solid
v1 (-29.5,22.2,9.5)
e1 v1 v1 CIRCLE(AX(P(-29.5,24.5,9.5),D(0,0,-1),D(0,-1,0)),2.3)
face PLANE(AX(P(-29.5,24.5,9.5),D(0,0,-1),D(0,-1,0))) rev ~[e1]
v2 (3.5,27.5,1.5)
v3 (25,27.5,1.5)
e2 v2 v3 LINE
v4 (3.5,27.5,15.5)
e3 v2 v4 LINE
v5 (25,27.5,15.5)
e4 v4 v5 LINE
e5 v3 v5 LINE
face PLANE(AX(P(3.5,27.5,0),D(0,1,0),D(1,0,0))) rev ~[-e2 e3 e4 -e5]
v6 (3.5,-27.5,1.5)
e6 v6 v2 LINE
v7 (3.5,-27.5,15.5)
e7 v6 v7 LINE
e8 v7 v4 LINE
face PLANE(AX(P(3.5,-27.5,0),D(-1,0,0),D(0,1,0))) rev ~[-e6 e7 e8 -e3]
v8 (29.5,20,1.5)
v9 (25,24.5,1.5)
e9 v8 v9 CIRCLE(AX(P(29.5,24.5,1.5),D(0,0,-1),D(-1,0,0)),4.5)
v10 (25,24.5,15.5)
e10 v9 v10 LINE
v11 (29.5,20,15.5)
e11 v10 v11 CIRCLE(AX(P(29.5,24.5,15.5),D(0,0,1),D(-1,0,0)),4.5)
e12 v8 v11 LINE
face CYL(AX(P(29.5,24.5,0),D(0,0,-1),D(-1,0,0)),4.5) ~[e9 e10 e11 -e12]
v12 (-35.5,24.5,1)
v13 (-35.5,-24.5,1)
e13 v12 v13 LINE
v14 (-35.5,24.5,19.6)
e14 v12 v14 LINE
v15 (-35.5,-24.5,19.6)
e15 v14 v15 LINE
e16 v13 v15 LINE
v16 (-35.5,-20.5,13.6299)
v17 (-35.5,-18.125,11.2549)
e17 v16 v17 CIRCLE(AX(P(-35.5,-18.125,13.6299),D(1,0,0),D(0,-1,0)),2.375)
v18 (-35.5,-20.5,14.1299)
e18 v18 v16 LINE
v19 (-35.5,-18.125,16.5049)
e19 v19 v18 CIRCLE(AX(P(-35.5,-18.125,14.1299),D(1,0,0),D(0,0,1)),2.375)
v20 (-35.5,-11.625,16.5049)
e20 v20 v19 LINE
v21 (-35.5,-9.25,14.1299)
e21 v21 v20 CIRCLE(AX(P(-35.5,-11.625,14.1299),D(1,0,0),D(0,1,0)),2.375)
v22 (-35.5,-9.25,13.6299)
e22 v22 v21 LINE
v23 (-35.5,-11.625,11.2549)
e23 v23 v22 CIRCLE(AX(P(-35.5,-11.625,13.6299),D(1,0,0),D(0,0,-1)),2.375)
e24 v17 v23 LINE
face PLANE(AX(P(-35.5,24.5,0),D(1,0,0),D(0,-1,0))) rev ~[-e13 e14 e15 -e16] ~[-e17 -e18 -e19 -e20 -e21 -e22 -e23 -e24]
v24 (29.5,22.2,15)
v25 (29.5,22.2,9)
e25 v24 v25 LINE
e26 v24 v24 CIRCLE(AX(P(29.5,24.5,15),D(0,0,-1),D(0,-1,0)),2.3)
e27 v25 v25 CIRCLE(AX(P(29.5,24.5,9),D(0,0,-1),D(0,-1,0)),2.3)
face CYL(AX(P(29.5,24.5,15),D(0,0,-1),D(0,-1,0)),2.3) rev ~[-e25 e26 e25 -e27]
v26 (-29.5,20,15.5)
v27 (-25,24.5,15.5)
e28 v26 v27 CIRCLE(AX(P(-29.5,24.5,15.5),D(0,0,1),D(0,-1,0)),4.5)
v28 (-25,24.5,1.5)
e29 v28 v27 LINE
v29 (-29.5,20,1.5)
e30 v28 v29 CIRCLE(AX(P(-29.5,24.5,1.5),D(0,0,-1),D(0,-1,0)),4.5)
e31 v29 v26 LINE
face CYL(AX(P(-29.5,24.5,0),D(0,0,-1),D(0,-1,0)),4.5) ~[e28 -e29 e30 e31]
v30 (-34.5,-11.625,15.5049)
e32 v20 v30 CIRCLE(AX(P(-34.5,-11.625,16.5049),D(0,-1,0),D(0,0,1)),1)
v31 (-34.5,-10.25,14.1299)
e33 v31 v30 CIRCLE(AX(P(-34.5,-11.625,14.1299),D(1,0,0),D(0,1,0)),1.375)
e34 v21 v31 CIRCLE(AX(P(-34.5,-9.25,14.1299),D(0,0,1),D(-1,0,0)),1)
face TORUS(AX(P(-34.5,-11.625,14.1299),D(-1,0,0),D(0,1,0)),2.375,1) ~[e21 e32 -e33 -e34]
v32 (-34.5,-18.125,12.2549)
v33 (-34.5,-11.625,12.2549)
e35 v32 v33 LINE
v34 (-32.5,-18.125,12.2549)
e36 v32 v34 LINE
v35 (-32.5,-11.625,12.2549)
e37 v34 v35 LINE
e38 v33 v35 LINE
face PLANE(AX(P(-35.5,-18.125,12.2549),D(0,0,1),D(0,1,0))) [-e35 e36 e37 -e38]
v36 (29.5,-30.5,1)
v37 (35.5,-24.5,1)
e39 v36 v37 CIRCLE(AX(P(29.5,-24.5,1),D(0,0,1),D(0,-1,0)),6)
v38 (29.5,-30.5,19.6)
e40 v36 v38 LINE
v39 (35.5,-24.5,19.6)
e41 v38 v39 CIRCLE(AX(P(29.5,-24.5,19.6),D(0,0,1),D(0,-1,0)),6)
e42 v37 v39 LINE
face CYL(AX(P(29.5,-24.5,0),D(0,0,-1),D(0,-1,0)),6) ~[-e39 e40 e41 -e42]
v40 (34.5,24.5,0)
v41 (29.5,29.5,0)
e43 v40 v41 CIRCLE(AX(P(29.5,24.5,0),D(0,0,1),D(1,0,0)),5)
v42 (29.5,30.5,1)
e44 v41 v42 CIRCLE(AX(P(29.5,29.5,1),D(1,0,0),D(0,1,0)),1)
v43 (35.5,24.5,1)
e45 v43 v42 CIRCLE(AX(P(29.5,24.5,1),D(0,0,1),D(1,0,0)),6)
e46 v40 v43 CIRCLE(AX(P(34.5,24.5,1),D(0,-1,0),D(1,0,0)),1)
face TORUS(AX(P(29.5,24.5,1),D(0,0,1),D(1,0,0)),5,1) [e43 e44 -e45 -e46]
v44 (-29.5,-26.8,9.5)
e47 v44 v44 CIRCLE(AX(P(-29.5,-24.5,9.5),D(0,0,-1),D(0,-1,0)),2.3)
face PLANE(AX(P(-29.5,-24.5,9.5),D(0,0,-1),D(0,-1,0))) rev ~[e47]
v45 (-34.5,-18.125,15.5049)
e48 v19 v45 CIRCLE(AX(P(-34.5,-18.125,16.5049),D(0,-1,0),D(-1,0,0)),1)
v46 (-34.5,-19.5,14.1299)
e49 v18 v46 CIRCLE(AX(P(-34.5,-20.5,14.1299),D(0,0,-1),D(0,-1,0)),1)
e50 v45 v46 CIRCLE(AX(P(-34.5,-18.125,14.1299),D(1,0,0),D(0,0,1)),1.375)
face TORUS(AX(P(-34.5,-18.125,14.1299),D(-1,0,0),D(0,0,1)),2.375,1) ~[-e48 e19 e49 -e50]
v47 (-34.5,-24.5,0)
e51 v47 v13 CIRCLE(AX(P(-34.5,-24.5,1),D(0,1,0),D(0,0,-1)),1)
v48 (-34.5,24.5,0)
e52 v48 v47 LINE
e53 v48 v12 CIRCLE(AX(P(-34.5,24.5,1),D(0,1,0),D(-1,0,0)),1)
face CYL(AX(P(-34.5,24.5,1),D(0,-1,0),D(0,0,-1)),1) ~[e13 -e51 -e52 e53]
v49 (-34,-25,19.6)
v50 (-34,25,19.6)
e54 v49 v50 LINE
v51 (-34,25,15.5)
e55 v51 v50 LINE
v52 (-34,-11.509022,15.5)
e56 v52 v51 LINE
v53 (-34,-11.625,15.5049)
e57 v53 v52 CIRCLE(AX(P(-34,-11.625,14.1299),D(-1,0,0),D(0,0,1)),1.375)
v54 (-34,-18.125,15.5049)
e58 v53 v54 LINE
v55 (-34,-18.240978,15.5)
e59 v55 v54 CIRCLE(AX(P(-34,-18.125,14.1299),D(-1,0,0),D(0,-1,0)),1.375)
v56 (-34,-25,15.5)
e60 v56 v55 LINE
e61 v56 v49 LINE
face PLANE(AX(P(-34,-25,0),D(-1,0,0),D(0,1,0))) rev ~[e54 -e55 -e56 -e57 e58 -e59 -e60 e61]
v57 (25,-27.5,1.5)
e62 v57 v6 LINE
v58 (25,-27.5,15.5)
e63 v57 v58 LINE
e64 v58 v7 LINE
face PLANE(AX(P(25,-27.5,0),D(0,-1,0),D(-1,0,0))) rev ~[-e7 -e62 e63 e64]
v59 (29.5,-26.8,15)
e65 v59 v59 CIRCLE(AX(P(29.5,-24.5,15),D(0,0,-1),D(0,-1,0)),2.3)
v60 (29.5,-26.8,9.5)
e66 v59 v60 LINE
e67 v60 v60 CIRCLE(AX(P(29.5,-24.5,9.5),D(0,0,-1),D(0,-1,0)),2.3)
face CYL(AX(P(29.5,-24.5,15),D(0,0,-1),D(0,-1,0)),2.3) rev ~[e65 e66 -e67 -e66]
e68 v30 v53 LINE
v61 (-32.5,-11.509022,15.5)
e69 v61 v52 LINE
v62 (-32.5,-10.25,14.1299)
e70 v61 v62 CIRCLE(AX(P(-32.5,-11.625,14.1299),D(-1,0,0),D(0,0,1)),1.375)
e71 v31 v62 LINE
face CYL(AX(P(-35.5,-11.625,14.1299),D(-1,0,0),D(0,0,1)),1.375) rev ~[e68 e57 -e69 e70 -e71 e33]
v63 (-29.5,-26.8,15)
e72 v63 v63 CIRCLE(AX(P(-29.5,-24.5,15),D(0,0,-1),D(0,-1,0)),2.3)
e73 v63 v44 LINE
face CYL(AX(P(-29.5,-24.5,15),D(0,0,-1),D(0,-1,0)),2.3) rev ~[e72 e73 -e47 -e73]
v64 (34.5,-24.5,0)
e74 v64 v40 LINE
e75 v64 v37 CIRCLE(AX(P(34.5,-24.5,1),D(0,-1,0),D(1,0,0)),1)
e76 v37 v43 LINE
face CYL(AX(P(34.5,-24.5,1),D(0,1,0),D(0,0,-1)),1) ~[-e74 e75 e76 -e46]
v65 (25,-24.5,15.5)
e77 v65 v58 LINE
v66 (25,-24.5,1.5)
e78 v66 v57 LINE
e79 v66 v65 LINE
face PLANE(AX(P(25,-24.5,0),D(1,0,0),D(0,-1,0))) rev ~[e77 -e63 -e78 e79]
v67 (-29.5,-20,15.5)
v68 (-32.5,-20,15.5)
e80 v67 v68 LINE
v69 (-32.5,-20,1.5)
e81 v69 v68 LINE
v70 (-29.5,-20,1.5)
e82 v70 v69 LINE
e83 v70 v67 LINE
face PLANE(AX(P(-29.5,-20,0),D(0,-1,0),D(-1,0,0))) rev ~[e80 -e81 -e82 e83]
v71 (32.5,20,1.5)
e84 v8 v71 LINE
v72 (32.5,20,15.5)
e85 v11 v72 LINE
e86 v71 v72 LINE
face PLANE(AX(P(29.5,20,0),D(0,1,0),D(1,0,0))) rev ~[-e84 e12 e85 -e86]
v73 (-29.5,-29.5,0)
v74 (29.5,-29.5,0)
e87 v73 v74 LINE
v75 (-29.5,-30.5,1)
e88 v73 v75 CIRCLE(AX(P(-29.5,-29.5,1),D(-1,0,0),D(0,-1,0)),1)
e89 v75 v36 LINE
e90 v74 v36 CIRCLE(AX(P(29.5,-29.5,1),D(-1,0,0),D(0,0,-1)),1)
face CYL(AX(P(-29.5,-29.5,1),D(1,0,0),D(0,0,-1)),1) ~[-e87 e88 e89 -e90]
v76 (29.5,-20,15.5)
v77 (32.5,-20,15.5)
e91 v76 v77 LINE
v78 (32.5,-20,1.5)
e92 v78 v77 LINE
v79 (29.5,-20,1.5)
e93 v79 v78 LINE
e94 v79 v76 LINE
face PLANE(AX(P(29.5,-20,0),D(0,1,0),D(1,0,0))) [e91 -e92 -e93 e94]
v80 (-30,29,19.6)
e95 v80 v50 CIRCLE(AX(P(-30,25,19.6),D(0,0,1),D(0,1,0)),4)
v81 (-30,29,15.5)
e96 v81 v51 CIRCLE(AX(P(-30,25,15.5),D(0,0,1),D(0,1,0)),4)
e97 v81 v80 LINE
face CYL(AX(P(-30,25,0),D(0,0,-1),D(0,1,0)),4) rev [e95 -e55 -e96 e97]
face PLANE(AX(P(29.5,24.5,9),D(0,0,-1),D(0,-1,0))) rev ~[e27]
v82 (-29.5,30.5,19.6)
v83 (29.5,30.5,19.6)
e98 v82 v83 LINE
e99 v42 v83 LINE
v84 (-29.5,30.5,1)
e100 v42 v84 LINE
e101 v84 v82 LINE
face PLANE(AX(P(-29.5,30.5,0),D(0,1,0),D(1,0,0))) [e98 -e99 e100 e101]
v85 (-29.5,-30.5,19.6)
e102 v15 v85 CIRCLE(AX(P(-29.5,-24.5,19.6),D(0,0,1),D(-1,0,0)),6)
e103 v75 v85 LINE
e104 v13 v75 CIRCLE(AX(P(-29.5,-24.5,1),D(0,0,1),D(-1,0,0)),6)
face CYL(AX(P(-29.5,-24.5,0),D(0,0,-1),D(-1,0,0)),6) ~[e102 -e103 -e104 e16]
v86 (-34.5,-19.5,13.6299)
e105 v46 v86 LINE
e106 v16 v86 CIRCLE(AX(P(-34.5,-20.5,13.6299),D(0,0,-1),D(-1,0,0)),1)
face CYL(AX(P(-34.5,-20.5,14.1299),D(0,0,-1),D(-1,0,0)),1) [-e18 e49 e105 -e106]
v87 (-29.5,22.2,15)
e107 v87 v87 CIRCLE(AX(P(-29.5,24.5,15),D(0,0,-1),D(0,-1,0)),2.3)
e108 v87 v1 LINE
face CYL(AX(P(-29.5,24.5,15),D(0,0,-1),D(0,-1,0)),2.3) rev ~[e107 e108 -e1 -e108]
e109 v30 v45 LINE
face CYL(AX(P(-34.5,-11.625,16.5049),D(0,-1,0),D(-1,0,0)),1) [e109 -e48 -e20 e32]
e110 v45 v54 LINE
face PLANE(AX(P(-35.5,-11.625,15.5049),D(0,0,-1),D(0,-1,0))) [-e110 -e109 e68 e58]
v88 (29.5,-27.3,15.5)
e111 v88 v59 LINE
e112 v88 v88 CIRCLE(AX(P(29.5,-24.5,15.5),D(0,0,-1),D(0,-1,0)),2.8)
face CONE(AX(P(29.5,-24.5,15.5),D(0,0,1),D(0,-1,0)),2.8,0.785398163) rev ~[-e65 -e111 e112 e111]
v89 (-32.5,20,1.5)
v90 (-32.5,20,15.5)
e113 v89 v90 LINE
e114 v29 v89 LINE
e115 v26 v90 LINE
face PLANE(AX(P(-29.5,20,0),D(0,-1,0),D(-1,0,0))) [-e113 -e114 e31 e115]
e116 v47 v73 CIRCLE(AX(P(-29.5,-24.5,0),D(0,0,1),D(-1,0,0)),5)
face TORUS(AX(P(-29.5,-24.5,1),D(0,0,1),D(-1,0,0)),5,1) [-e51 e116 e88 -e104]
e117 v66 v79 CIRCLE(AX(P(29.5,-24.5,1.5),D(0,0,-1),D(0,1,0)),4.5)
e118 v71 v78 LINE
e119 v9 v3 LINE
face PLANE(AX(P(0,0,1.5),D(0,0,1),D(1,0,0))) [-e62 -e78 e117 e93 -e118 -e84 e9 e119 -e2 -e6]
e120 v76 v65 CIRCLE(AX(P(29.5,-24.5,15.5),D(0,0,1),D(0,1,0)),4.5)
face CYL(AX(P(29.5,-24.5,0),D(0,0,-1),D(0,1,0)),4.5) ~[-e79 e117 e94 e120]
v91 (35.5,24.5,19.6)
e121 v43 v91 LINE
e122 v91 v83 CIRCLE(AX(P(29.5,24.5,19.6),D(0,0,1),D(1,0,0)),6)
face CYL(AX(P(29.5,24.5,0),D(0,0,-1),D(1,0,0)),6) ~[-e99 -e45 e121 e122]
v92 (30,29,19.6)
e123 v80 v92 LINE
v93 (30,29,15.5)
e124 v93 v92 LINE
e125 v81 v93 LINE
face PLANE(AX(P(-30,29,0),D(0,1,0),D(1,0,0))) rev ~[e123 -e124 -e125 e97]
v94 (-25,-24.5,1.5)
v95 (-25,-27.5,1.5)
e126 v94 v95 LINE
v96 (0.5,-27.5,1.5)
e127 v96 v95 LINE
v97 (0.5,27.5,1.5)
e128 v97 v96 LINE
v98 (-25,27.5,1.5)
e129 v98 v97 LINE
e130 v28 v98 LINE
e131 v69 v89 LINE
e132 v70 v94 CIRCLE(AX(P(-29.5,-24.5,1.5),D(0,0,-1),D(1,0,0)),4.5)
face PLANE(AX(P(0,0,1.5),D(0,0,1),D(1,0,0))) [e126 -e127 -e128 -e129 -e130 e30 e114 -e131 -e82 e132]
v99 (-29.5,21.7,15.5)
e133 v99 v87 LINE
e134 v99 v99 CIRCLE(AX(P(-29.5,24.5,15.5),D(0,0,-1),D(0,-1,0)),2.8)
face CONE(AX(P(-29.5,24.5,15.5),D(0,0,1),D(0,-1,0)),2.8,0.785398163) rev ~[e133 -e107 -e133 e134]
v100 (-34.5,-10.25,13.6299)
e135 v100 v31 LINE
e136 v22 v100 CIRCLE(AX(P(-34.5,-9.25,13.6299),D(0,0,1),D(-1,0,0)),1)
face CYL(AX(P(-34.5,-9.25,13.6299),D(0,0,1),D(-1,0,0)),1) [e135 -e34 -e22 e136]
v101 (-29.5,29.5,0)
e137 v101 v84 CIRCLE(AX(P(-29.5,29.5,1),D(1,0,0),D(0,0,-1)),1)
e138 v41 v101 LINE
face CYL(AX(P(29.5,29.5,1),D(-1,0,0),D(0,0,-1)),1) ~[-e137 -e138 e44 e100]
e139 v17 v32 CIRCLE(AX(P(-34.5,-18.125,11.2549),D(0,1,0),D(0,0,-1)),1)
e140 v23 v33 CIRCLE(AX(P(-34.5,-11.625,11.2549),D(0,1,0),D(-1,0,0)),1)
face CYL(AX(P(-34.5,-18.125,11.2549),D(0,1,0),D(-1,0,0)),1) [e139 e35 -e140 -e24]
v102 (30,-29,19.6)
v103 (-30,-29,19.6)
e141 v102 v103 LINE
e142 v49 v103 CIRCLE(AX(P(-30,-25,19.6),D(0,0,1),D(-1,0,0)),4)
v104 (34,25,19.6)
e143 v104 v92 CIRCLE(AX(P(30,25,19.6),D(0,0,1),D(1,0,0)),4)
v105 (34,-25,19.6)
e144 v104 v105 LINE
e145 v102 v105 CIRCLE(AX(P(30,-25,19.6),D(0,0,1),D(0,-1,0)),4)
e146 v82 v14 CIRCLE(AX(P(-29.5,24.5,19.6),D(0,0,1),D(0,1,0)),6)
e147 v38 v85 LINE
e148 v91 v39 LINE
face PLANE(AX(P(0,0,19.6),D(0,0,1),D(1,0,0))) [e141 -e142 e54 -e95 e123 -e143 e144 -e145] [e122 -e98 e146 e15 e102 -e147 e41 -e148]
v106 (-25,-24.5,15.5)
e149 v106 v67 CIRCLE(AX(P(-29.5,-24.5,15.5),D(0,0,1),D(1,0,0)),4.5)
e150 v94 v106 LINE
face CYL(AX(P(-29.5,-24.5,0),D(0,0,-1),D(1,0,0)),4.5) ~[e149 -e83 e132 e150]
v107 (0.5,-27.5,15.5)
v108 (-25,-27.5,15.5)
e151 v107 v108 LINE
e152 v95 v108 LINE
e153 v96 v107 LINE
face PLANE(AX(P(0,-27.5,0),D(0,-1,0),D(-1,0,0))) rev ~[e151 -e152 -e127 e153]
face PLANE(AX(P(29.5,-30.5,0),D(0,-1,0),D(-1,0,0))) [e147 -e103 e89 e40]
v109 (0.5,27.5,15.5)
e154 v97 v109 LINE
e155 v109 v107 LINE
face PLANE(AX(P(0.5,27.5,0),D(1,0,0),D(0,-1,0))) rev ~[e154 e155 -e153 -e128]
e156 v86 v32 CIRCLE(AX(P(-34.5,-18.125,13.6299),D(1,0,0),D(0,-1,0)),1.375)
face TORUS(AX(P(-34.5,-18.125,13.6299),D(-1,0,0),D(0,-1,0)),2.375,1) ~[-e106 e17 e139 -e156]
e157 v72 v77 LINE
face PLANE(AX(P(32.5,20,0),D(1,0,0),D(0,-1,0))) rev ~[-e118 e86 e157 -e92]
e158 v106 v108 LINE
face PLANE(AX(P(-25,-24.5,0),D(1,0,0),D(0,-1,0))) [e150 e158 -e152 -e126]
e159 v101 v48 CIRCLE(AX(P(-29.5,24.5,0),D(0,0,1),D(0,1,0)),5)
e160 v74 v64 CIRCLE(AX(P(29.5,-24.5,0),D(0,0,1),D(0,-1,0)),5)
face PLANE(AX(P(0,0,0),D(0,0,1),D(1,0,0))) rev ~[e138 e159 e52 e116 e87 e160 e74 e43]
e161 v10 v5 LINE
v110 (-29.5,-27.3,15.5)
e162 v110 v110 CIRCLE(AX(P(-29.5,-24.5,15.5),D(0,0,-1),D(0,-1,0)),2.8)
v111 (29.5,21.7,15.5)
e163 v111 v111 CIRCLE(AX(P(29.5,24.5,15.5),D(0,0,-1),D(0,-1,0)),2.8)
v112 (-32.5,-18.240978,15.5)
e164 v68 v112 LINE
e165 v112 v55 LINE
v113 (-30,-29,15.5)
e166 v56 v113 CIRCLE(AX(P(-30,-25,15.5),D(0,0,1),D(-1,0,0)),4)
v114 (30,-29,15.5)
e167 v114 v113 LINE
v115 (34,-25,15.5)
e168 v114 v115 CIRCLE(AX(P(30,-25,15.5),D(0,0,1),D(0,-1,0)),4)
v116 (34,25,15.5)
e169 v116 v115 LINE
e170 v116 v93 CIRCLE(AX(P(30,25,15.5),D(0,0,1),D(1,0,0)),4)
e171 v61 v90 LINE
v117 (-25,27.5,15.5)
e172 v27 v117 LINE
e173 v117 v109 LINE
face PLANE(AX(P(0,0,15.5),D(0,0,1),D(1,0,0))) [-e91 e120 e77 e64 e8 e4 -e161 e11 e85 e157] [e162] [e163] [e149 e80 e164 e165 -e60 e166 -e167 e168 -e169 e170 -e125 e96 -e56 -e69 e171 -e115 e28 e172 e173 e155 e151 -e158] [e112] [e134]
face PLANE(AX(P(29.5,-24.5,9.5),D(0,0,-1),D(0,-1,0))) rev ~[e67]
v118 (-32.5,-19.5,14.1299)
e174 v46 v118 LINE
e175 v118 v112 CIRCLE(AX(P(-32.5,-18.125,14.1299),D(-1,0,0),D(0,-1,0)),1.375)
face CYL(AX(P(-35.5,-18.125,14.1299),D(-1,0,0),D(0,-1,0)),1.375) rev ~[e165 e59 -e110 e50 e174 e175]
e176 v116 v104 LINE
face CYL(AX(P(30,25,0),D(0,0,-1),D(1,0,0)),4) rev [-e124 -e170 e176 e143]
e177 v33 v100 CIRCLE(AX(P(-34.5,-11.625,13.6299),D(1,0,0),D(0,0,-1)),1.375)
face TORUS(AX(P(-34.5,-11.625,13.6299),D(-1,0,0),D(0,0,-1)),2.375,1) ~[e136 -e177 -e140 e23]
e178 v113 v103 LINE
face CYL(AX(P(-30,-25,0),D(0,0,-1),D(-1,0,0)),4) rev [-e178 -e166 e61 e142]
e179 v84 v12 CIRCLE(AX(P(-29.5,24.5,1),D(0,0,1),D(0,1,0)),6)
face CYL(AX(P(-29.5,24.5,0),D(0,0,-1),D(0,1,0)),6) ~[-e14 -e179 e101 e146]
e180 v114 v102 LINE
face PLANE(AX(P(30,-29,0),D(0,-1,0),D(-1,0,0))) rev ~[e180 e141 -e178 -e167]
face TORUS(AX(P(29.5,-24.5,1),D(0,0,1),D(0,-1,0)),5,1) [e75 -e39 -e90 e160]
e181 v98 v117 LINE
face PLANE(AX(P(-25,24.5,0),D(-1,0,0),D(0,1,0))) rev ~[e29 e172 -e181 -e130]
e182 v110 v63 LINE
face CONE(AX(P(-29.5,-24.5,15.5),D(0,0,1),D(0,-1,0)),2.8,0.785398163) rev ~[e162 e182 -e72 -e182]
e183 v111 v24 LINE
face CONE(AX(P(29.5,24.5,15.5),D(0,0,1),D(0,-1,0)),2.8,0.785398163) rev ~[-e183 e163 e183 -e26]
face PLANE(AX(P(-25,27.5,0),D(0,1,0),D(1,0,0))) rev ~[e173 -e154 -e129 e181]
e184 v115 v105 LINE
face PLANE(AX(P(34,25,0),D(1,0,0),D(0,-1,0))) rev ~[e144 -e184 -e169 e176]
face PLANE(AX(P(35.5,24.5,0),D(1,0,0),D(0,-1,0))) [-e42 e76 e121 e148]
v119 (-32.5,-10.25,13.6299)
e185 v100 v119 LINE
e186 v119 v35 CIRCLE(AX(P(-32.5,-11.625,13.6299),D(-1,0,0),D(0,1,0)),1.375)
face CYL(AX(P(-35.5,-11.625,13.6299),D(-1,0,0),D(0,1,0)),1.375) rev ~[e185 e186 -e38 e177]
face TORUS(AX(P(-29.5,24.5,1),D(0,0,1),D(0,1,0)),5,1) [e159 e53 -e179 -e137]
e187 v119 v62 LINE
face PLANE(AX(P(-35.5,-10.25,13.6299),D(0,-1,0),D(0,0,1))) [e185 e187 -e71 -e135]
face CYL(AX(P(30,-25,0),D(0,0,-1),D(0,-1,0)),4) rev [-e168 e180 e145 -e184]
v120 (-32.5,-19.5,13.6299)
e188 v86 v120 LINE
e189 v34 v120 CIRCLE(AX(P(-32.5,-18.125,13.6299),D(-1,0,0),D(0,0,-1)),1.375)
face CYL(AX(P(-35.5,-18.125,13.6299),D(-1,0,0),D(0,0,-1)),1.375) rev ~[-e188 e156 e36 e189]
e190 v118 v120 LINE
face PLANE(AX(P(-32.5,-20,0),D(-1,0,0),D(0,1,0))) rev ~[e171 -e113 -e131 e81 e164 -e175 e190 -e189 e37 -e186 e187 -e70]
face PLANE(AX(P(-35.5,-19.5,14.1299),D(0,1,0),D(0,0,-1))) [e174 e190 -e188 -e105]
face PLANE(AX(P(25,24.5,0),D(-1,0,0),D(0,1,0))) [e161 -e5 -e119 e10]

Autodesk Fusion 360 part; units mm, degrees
sketch "main-bottom" plane through (0, 0, 0) normal (0, 0, 1) x (1, 0, 0)
  line L0 (30, -29) -> (-30, -29)
  line L1 (-34, -25) -> (-34, 25)
  line L2 (-30, 29) -> (30, 29)
  line L3 (34, 25) -> (34, -25)
  arc A0 (-30, 29) -> (-34, 25) centre (-30, 25) ccw
  arc A1 (-34, -25) -> (-30, -29) centre (-30, -25) ccw
  arc A2 (30, -29) -> (34, -25) centre (30, -25) ccw
  arc A3 (34, 25) -> (30, 29) centre (30, 25) ccw
  circle A4 centre (-29.5, 24.5) radius 2.3
  circle A5 centre (29.5, 24.5) radius 2.3
  circle A6 centre (29.5, -24.5) radius 2.3
  circle A7 centre (-29.5, -24.5) radius 2.3
  line L4 (-32.5, -25) -> (-32.5, 25)
  line L5 (32.5, 25) -> (32.5, -25)
  arc A8 (-30, 27.5) -> (-32.5, 25) centre (-30, 25) ccw
  arc A9 (-32.5, -25) -> (-30, -27.5) centre (-30, -25) ccw
  arc A10 (30, -27.5) -> (32.5, -25) centre (30, -25) ccw
  arc A11 (32.5, 25) -> (30, 27.5) centre (30, 25) ccw
  arc A12 (-29.5, 20) -> (-25, 24.5) centre (-29.5, 24.5) ccw
  line L6 (-25, 24.5) -> (-25, 27.5)
  line L7 (-29.5, 20) -> (-32.5, 20)
  line L8 (-29.5, 20) -> (-32.5, 20)
  arc A13 (-29.5, 20) -> (-25, 24.5) centre (-29.5, 24.5) ccw
  line L9 (-25, 24.5) -> (-25, 27.5)
  arc A14 (-29.5, 20) -> (-25, 24.5) centre (-29.5, 24.5) ccw
  line L10 (-25, 24.5) -> (-25, 27.5)
  line L11 (-29.5, 20) -> (-32.5, 20)
  arc A15 (-25, -24.5) -> (-29.5, -20) centre (-29.5, -24.5) ccw
  line L12 (-29.5, -20) -> (-32.5, -20)
  line L13 (-25, -24.5) -> (-25, -27.5)
  arc A16 (29.5, -20) -> (25, -24.5) centre (29.5, -24.5) ccw
  line L14 (25, -24.5) -> (25, -27.5)
  line L15 (29.5, -20) -> (32.5, -20)
  arc A17 (25, 24.5) -> (29.5, 20) centre (29.5, 24.5) ccw
  line L16 (29.5, 20) -> (32.5, 20)
  line L17 (25, 24.5) -> (25, 27.5)
  line L18 (0, -27.5) -> (0.5, -27.5) construction
  line L19 (0, 27.5) -> (0.5, 27.5) construction
  line L20 (0, -27.5) -> (0.5, -27.5)
  line L21 (0, -27.5) -> (0.5, -27.5) construction
  line L22 (3.5, -27.5) -> (3.5, 27.5)
  line L23 (0.5, 27.5) -> (0.5, -27.5)
  line L24 (30, -27.5) -> (3.5, -27.5)
  line L25 (0.5, -27.5) -> (-30, -27.5)
  line L26 (-30, 27.5) -> (0.5, 27.5)
  line L27 (3.5, 27.5) -> (30, 27.5)
  arc A18 (-29.5, 30.5) -> (-35.5, 24.5) centre (-29.5, 24.5) ccw
  line L28 (-29.5, 24.5) -> (-35.5, 24.5) construction
  arc A19 (-29.5, 30.5) -> (-35.5, 24.5) centre (-29.5, 24.5) ccw
  arc A20 (35.5, 24.5) -> (29.5, 30.5) centre (29.5, 24.5) ccw
  arc A21 (-35.5, -24.5) -> (-29.5, -30.5) centre (-29.5, -24.5) ccw
  arc A22 (29.5, -30.5) -> (35.5, -24.5) centre (29.5, -24.5) ccw
  line L29 (-29.5, 30.5) -> (29.5, 30.5)
  line L30 (35.5, 24.5) -> (35.5, -24.5)
  line L31 (29.5, -30.5) -> (-29.5, -30.5)
  line L32 (-35.5, 24.5) -> (-35.5, -24.5)
  dimension "d32" = 4.6
  dimension "d33" = 4.6
  dimension "d34" = 4.6
  dimension "d35" = 4.6
  dimension "d39" = 4.5
  dimension "d40" = 4.5
  dimension "d41" = 4.5
  dimension "d42" = 4.5
  dimension "d43" = 4.5
  dimension "d44" = 4.5
extrude "Extrude4" add sketch "main-bottom" along normal blind 15.5 contours L0 L1 L2 L3 A0 A1 A2 A3 | A4 | A5 | A6 | A7 | L4 A9 A15 L12 L13 L25 | L4 A8 A12 L6 L7 L8 A13 L9 A14 L10 L11 L26 | L5 A11 A17 L16 L17 L27 | L5 A10 A16 L14 L15 L24 makes body 1
extrude "Extrude3" add sketch "main-bottom" along normal blind 1.5 separate body contours L0 L1 L2 L3 A0 A1 A2 A3 | A4 | A5 | A6 | A7 | L4 A9 A15 L12 L13 L25 | L4 A12 L6 L7 L8 A13 L9 A14 L10 L11 A15 L12 L13 L20 L23 L25 L26 | L4 A8 A12 L6 L7 L8 A13 L9 A14 L10 L11 L26 | L5 A11 A17 L16 L17 L27 | L5 A16 L14 L15 A17 L16 L17 L22 L24 L27 | L5 A10 A16 L14 L15 L24 | A18 A19 A20 A21 A22 L29 L30 L31 L32 makes body 2
extrude "Extrude5" cut sketch "main-bottom" along normal blind 19.6 contours A18 A19 A20 A21 A22 L29 L30 L31 L32 bodies 2
extrude "Extrude6" add sketch "main-bottom" along normal blind 19.6 contours A18 A19 A20 A21 A22 L29 L30 L31 L32 bodies 1 2
hole "Hole1" at (29.5, 24.5, 15.5) direction (0, 0, -1) diameter 4.6 depth 6.5 tip angle 180 countersink diameter 5.6 countersink angle 90 bodies 1
hole "Hole2" at (-29.5, 24.5, 15.5) direction (0, 0, -1) diameter 4.6 depth 6 tip angle 180 countersink diameter 5.6 countersink angle 90 bodies 1
hole "Hole3" at (-29.5, -24.5, 15.5) direction (0, 0, -1) diameter 4.6 depth 6 tip angle 180 countersink diameter 5.6 countersink angle 90 bodies 1
hole "Hole4" at (29.5, -24.5, 15.5) direction (0, 0, -1) diameter 4.6 depth 6 tip angle 180 countersink diameter 5.6 countersink angle 90 bodies 1
sketch "Sketch2" plane through (-35.5, 0, 0) normal (-1, 0, 0) x (0, 0, 1)
  line L0 (0, 24.5) -> (0, -24.5)
  line L1 (0, -24.5) -> (19.6, -24.5)
  line L2 (19.6, -24.5) -> (19.6, 24.5)
  line L3 (19.6, 24.5) -> (0, 24.5)
  line L4 (15.5049, -24.5) -> (15.5049, -19.5) construction
  line L5 (14.1299, -19.5) -> (13.6299, -19.5)
  line L6 (12.2549, -18.125) -> (12.2549, -11.625)
  line L7 (13.6299, -10.25) -> (14.1299, -10.25)
  line L8 (15.5049, -11.625) -> (15.5049, -18.125)
  line L9 (12.2549, -10.25) -> (15.5049, -19.5) construction
  line L10 (12.2549, -19.5) -> (15.5049, -10.25) construction
  line L11 (15.5049, -19.5) -> (14.1299, -19.5) construction
  line L12 (14.1299, -19.5) -> (14.1299, -18.125) construction
  line L13 (14.1299, -18.125) -> (15.5049, -18.125) construction
  line L14 (15.5049, -18.125) -> (15.5049, -19.5) construction
  line L15 (12.2549, -19.5) -> (13.6299, -19.5) construction
  line L16 (13.6299, -19.5) -> (13.6299, -18.125) construction
  line L17 (13.6299, -18.125) -> (12.2549, -18.125) construction
  line L18 (12.2549, -18.125) -> (12.2549, -19.5) construction
  arc A0 (12.2549, -18.125) -> (13.6299, -19.5) centre (13.6299, -18.125) ccw
  arc A1 (15.0049, -18.125) -> (15.004, -18.0743) centre (13.6299, -18.125) ccw
  arc A2 (12.7558, -18.0743) -> (12.7549, -18.125) centre (14.1299, -18.125) ccw
  arc A3 (14.1299, -19.5) -> (15.5049, -18.125) centre (14.1299, -18.125) ccw
  line L19 (15.5049, -10.25) -> (14.1299, -10.25) construction
  line L20 (14.1299, -10.25) -> (14.1299, -11.625) construction
  line L21 (14.1299, -11.625) -> (15.5049, -11.625) construction
  line L22 (15.5049, -11.625) -> (15.5049, -10.25) construction
  line L23 (12.2549, -10.25) -> (13.6299, -10.25) construction
  line L24 (13.6299, -10.25) -> (13.6299, -11.625) construction
  line L25 (13.6299, -11.625) -> (12.2549, -11.625) construction
  line L26 (12.2549, -11.625) -> (12.2549, -10.25) construction
  arc A4 (15.5049, -11.625) -> (14.1299, -10.25) centre (14.1299, -11.625) ccw
  arc A5 (12.7549, -11.625) -> (12.7558, -11.6757) centre (14.1299, -11.625) ccw
  arc A6 (15.004, -11.6757) -> (15.0049, -11.625) centre (13.6299, -11.625) ccw
  arc A7 (13.6299, -10.25) -> (12.2549, -11.625) centre (13.6299, -11.625) ccw
  dimension "d88" = 5
  dimension "d89" = 3.25
  dimension "d90" = 9.25
  dimension "d93" = 1.375
  dimension "d94" = 1.375
  dimension "d95" = 1.375
  dimension "d96" = 1.375
  dimension "d97" = 1.375
  dimension "d98" = 1.375
  dimension "d99" = 1.375
  dimension "d100" = 1.375
extrude "Extrude7" cut sketch "Sketch2" against normal blind 3 contours L5 L6 L7 L8 A0 A3 A4 A7 bodies 1
fillet "Fillet1" radius 1 8 edges at (-35.5, -10.25, 13.8799) (-35.5, -10.6527, 15.1022) (-35.5, -14.875, 15.5049) (-35.5, -19.0973, 15.1022) (-35.5, -19.5, 13.8799) (-35.5, -19.0973, 12.6576) (-35.5, -14.875, 12.2549) (-35.5, -10.6527, 12.6576) on bodies 1
fillet "Fillet2" radius 1 8 edges at (33.7426, 28.7426, 0) (0, 30.5, 0) (-33.7426, 28.7426, 0) (-35.5, 0, 0) (-33.7426, -28.7426, 0) (0, -30.5, 0) (33.7426, -28.7426, 0) (35.5, 0, 0) on bodies 1
equation "M3_thread_insert_diameter = 4.6 mm"
equation "d32 = M3_thread_insert_diameter"
equation "d33 = M3_thread_insert_diameter"
equation "d34 = M3_thread_insert_diameter"
equation "d35 = M3_thread_insert_diameter"
equation "bottom_thickness = 1.5 mm"
equation "batholder_height = 13 mm"
equation "batholder_bottom_gap = 1 mm"
equation "FR4_thickness = 1.6 mm"
equation "gasket_thickness = 2.5 mm"
equation "d59 = bottom_thickness"
equation "d61 = bottom_thickness + batholder_bottom_gap + batholder_height"
equation "d63 = bottom_thickness + batholder_bottom_gap + batholder_height + FR4_thickness + gasket_thickness"
equation "d65 = bottom_thickness + batholder_bottom_gap + batholder_height + FR4_thickness + gasket_thickness"
equation "M3_thread_insert_height = 6 mm"
equation "d68 = M3_thread_insert_height + 0.5 mm"
equation "d69 = M3_thread_insert_diameter"
equation "d71 = M3_thread_insert_diameter + 1 mm"
equation "d73 = M3_thread_insert_height"
equation "d74 = M3_thread_insert_diameter"
equation "d76 = M3_thread_insert_diameter + 1 mm"
equation "d78 = M3_thread_insert_height"
equation "d79 = M3_thread_insert_diameter"
equation "d81 = M3_thread_insert_diameter + 1 mm"
equation "d83 = M3_thread_insert_height"
equation "d84 = M3_thread_insert_diameter"
equation "d86 = M3_thread_insert_diameter + 1 mm"
